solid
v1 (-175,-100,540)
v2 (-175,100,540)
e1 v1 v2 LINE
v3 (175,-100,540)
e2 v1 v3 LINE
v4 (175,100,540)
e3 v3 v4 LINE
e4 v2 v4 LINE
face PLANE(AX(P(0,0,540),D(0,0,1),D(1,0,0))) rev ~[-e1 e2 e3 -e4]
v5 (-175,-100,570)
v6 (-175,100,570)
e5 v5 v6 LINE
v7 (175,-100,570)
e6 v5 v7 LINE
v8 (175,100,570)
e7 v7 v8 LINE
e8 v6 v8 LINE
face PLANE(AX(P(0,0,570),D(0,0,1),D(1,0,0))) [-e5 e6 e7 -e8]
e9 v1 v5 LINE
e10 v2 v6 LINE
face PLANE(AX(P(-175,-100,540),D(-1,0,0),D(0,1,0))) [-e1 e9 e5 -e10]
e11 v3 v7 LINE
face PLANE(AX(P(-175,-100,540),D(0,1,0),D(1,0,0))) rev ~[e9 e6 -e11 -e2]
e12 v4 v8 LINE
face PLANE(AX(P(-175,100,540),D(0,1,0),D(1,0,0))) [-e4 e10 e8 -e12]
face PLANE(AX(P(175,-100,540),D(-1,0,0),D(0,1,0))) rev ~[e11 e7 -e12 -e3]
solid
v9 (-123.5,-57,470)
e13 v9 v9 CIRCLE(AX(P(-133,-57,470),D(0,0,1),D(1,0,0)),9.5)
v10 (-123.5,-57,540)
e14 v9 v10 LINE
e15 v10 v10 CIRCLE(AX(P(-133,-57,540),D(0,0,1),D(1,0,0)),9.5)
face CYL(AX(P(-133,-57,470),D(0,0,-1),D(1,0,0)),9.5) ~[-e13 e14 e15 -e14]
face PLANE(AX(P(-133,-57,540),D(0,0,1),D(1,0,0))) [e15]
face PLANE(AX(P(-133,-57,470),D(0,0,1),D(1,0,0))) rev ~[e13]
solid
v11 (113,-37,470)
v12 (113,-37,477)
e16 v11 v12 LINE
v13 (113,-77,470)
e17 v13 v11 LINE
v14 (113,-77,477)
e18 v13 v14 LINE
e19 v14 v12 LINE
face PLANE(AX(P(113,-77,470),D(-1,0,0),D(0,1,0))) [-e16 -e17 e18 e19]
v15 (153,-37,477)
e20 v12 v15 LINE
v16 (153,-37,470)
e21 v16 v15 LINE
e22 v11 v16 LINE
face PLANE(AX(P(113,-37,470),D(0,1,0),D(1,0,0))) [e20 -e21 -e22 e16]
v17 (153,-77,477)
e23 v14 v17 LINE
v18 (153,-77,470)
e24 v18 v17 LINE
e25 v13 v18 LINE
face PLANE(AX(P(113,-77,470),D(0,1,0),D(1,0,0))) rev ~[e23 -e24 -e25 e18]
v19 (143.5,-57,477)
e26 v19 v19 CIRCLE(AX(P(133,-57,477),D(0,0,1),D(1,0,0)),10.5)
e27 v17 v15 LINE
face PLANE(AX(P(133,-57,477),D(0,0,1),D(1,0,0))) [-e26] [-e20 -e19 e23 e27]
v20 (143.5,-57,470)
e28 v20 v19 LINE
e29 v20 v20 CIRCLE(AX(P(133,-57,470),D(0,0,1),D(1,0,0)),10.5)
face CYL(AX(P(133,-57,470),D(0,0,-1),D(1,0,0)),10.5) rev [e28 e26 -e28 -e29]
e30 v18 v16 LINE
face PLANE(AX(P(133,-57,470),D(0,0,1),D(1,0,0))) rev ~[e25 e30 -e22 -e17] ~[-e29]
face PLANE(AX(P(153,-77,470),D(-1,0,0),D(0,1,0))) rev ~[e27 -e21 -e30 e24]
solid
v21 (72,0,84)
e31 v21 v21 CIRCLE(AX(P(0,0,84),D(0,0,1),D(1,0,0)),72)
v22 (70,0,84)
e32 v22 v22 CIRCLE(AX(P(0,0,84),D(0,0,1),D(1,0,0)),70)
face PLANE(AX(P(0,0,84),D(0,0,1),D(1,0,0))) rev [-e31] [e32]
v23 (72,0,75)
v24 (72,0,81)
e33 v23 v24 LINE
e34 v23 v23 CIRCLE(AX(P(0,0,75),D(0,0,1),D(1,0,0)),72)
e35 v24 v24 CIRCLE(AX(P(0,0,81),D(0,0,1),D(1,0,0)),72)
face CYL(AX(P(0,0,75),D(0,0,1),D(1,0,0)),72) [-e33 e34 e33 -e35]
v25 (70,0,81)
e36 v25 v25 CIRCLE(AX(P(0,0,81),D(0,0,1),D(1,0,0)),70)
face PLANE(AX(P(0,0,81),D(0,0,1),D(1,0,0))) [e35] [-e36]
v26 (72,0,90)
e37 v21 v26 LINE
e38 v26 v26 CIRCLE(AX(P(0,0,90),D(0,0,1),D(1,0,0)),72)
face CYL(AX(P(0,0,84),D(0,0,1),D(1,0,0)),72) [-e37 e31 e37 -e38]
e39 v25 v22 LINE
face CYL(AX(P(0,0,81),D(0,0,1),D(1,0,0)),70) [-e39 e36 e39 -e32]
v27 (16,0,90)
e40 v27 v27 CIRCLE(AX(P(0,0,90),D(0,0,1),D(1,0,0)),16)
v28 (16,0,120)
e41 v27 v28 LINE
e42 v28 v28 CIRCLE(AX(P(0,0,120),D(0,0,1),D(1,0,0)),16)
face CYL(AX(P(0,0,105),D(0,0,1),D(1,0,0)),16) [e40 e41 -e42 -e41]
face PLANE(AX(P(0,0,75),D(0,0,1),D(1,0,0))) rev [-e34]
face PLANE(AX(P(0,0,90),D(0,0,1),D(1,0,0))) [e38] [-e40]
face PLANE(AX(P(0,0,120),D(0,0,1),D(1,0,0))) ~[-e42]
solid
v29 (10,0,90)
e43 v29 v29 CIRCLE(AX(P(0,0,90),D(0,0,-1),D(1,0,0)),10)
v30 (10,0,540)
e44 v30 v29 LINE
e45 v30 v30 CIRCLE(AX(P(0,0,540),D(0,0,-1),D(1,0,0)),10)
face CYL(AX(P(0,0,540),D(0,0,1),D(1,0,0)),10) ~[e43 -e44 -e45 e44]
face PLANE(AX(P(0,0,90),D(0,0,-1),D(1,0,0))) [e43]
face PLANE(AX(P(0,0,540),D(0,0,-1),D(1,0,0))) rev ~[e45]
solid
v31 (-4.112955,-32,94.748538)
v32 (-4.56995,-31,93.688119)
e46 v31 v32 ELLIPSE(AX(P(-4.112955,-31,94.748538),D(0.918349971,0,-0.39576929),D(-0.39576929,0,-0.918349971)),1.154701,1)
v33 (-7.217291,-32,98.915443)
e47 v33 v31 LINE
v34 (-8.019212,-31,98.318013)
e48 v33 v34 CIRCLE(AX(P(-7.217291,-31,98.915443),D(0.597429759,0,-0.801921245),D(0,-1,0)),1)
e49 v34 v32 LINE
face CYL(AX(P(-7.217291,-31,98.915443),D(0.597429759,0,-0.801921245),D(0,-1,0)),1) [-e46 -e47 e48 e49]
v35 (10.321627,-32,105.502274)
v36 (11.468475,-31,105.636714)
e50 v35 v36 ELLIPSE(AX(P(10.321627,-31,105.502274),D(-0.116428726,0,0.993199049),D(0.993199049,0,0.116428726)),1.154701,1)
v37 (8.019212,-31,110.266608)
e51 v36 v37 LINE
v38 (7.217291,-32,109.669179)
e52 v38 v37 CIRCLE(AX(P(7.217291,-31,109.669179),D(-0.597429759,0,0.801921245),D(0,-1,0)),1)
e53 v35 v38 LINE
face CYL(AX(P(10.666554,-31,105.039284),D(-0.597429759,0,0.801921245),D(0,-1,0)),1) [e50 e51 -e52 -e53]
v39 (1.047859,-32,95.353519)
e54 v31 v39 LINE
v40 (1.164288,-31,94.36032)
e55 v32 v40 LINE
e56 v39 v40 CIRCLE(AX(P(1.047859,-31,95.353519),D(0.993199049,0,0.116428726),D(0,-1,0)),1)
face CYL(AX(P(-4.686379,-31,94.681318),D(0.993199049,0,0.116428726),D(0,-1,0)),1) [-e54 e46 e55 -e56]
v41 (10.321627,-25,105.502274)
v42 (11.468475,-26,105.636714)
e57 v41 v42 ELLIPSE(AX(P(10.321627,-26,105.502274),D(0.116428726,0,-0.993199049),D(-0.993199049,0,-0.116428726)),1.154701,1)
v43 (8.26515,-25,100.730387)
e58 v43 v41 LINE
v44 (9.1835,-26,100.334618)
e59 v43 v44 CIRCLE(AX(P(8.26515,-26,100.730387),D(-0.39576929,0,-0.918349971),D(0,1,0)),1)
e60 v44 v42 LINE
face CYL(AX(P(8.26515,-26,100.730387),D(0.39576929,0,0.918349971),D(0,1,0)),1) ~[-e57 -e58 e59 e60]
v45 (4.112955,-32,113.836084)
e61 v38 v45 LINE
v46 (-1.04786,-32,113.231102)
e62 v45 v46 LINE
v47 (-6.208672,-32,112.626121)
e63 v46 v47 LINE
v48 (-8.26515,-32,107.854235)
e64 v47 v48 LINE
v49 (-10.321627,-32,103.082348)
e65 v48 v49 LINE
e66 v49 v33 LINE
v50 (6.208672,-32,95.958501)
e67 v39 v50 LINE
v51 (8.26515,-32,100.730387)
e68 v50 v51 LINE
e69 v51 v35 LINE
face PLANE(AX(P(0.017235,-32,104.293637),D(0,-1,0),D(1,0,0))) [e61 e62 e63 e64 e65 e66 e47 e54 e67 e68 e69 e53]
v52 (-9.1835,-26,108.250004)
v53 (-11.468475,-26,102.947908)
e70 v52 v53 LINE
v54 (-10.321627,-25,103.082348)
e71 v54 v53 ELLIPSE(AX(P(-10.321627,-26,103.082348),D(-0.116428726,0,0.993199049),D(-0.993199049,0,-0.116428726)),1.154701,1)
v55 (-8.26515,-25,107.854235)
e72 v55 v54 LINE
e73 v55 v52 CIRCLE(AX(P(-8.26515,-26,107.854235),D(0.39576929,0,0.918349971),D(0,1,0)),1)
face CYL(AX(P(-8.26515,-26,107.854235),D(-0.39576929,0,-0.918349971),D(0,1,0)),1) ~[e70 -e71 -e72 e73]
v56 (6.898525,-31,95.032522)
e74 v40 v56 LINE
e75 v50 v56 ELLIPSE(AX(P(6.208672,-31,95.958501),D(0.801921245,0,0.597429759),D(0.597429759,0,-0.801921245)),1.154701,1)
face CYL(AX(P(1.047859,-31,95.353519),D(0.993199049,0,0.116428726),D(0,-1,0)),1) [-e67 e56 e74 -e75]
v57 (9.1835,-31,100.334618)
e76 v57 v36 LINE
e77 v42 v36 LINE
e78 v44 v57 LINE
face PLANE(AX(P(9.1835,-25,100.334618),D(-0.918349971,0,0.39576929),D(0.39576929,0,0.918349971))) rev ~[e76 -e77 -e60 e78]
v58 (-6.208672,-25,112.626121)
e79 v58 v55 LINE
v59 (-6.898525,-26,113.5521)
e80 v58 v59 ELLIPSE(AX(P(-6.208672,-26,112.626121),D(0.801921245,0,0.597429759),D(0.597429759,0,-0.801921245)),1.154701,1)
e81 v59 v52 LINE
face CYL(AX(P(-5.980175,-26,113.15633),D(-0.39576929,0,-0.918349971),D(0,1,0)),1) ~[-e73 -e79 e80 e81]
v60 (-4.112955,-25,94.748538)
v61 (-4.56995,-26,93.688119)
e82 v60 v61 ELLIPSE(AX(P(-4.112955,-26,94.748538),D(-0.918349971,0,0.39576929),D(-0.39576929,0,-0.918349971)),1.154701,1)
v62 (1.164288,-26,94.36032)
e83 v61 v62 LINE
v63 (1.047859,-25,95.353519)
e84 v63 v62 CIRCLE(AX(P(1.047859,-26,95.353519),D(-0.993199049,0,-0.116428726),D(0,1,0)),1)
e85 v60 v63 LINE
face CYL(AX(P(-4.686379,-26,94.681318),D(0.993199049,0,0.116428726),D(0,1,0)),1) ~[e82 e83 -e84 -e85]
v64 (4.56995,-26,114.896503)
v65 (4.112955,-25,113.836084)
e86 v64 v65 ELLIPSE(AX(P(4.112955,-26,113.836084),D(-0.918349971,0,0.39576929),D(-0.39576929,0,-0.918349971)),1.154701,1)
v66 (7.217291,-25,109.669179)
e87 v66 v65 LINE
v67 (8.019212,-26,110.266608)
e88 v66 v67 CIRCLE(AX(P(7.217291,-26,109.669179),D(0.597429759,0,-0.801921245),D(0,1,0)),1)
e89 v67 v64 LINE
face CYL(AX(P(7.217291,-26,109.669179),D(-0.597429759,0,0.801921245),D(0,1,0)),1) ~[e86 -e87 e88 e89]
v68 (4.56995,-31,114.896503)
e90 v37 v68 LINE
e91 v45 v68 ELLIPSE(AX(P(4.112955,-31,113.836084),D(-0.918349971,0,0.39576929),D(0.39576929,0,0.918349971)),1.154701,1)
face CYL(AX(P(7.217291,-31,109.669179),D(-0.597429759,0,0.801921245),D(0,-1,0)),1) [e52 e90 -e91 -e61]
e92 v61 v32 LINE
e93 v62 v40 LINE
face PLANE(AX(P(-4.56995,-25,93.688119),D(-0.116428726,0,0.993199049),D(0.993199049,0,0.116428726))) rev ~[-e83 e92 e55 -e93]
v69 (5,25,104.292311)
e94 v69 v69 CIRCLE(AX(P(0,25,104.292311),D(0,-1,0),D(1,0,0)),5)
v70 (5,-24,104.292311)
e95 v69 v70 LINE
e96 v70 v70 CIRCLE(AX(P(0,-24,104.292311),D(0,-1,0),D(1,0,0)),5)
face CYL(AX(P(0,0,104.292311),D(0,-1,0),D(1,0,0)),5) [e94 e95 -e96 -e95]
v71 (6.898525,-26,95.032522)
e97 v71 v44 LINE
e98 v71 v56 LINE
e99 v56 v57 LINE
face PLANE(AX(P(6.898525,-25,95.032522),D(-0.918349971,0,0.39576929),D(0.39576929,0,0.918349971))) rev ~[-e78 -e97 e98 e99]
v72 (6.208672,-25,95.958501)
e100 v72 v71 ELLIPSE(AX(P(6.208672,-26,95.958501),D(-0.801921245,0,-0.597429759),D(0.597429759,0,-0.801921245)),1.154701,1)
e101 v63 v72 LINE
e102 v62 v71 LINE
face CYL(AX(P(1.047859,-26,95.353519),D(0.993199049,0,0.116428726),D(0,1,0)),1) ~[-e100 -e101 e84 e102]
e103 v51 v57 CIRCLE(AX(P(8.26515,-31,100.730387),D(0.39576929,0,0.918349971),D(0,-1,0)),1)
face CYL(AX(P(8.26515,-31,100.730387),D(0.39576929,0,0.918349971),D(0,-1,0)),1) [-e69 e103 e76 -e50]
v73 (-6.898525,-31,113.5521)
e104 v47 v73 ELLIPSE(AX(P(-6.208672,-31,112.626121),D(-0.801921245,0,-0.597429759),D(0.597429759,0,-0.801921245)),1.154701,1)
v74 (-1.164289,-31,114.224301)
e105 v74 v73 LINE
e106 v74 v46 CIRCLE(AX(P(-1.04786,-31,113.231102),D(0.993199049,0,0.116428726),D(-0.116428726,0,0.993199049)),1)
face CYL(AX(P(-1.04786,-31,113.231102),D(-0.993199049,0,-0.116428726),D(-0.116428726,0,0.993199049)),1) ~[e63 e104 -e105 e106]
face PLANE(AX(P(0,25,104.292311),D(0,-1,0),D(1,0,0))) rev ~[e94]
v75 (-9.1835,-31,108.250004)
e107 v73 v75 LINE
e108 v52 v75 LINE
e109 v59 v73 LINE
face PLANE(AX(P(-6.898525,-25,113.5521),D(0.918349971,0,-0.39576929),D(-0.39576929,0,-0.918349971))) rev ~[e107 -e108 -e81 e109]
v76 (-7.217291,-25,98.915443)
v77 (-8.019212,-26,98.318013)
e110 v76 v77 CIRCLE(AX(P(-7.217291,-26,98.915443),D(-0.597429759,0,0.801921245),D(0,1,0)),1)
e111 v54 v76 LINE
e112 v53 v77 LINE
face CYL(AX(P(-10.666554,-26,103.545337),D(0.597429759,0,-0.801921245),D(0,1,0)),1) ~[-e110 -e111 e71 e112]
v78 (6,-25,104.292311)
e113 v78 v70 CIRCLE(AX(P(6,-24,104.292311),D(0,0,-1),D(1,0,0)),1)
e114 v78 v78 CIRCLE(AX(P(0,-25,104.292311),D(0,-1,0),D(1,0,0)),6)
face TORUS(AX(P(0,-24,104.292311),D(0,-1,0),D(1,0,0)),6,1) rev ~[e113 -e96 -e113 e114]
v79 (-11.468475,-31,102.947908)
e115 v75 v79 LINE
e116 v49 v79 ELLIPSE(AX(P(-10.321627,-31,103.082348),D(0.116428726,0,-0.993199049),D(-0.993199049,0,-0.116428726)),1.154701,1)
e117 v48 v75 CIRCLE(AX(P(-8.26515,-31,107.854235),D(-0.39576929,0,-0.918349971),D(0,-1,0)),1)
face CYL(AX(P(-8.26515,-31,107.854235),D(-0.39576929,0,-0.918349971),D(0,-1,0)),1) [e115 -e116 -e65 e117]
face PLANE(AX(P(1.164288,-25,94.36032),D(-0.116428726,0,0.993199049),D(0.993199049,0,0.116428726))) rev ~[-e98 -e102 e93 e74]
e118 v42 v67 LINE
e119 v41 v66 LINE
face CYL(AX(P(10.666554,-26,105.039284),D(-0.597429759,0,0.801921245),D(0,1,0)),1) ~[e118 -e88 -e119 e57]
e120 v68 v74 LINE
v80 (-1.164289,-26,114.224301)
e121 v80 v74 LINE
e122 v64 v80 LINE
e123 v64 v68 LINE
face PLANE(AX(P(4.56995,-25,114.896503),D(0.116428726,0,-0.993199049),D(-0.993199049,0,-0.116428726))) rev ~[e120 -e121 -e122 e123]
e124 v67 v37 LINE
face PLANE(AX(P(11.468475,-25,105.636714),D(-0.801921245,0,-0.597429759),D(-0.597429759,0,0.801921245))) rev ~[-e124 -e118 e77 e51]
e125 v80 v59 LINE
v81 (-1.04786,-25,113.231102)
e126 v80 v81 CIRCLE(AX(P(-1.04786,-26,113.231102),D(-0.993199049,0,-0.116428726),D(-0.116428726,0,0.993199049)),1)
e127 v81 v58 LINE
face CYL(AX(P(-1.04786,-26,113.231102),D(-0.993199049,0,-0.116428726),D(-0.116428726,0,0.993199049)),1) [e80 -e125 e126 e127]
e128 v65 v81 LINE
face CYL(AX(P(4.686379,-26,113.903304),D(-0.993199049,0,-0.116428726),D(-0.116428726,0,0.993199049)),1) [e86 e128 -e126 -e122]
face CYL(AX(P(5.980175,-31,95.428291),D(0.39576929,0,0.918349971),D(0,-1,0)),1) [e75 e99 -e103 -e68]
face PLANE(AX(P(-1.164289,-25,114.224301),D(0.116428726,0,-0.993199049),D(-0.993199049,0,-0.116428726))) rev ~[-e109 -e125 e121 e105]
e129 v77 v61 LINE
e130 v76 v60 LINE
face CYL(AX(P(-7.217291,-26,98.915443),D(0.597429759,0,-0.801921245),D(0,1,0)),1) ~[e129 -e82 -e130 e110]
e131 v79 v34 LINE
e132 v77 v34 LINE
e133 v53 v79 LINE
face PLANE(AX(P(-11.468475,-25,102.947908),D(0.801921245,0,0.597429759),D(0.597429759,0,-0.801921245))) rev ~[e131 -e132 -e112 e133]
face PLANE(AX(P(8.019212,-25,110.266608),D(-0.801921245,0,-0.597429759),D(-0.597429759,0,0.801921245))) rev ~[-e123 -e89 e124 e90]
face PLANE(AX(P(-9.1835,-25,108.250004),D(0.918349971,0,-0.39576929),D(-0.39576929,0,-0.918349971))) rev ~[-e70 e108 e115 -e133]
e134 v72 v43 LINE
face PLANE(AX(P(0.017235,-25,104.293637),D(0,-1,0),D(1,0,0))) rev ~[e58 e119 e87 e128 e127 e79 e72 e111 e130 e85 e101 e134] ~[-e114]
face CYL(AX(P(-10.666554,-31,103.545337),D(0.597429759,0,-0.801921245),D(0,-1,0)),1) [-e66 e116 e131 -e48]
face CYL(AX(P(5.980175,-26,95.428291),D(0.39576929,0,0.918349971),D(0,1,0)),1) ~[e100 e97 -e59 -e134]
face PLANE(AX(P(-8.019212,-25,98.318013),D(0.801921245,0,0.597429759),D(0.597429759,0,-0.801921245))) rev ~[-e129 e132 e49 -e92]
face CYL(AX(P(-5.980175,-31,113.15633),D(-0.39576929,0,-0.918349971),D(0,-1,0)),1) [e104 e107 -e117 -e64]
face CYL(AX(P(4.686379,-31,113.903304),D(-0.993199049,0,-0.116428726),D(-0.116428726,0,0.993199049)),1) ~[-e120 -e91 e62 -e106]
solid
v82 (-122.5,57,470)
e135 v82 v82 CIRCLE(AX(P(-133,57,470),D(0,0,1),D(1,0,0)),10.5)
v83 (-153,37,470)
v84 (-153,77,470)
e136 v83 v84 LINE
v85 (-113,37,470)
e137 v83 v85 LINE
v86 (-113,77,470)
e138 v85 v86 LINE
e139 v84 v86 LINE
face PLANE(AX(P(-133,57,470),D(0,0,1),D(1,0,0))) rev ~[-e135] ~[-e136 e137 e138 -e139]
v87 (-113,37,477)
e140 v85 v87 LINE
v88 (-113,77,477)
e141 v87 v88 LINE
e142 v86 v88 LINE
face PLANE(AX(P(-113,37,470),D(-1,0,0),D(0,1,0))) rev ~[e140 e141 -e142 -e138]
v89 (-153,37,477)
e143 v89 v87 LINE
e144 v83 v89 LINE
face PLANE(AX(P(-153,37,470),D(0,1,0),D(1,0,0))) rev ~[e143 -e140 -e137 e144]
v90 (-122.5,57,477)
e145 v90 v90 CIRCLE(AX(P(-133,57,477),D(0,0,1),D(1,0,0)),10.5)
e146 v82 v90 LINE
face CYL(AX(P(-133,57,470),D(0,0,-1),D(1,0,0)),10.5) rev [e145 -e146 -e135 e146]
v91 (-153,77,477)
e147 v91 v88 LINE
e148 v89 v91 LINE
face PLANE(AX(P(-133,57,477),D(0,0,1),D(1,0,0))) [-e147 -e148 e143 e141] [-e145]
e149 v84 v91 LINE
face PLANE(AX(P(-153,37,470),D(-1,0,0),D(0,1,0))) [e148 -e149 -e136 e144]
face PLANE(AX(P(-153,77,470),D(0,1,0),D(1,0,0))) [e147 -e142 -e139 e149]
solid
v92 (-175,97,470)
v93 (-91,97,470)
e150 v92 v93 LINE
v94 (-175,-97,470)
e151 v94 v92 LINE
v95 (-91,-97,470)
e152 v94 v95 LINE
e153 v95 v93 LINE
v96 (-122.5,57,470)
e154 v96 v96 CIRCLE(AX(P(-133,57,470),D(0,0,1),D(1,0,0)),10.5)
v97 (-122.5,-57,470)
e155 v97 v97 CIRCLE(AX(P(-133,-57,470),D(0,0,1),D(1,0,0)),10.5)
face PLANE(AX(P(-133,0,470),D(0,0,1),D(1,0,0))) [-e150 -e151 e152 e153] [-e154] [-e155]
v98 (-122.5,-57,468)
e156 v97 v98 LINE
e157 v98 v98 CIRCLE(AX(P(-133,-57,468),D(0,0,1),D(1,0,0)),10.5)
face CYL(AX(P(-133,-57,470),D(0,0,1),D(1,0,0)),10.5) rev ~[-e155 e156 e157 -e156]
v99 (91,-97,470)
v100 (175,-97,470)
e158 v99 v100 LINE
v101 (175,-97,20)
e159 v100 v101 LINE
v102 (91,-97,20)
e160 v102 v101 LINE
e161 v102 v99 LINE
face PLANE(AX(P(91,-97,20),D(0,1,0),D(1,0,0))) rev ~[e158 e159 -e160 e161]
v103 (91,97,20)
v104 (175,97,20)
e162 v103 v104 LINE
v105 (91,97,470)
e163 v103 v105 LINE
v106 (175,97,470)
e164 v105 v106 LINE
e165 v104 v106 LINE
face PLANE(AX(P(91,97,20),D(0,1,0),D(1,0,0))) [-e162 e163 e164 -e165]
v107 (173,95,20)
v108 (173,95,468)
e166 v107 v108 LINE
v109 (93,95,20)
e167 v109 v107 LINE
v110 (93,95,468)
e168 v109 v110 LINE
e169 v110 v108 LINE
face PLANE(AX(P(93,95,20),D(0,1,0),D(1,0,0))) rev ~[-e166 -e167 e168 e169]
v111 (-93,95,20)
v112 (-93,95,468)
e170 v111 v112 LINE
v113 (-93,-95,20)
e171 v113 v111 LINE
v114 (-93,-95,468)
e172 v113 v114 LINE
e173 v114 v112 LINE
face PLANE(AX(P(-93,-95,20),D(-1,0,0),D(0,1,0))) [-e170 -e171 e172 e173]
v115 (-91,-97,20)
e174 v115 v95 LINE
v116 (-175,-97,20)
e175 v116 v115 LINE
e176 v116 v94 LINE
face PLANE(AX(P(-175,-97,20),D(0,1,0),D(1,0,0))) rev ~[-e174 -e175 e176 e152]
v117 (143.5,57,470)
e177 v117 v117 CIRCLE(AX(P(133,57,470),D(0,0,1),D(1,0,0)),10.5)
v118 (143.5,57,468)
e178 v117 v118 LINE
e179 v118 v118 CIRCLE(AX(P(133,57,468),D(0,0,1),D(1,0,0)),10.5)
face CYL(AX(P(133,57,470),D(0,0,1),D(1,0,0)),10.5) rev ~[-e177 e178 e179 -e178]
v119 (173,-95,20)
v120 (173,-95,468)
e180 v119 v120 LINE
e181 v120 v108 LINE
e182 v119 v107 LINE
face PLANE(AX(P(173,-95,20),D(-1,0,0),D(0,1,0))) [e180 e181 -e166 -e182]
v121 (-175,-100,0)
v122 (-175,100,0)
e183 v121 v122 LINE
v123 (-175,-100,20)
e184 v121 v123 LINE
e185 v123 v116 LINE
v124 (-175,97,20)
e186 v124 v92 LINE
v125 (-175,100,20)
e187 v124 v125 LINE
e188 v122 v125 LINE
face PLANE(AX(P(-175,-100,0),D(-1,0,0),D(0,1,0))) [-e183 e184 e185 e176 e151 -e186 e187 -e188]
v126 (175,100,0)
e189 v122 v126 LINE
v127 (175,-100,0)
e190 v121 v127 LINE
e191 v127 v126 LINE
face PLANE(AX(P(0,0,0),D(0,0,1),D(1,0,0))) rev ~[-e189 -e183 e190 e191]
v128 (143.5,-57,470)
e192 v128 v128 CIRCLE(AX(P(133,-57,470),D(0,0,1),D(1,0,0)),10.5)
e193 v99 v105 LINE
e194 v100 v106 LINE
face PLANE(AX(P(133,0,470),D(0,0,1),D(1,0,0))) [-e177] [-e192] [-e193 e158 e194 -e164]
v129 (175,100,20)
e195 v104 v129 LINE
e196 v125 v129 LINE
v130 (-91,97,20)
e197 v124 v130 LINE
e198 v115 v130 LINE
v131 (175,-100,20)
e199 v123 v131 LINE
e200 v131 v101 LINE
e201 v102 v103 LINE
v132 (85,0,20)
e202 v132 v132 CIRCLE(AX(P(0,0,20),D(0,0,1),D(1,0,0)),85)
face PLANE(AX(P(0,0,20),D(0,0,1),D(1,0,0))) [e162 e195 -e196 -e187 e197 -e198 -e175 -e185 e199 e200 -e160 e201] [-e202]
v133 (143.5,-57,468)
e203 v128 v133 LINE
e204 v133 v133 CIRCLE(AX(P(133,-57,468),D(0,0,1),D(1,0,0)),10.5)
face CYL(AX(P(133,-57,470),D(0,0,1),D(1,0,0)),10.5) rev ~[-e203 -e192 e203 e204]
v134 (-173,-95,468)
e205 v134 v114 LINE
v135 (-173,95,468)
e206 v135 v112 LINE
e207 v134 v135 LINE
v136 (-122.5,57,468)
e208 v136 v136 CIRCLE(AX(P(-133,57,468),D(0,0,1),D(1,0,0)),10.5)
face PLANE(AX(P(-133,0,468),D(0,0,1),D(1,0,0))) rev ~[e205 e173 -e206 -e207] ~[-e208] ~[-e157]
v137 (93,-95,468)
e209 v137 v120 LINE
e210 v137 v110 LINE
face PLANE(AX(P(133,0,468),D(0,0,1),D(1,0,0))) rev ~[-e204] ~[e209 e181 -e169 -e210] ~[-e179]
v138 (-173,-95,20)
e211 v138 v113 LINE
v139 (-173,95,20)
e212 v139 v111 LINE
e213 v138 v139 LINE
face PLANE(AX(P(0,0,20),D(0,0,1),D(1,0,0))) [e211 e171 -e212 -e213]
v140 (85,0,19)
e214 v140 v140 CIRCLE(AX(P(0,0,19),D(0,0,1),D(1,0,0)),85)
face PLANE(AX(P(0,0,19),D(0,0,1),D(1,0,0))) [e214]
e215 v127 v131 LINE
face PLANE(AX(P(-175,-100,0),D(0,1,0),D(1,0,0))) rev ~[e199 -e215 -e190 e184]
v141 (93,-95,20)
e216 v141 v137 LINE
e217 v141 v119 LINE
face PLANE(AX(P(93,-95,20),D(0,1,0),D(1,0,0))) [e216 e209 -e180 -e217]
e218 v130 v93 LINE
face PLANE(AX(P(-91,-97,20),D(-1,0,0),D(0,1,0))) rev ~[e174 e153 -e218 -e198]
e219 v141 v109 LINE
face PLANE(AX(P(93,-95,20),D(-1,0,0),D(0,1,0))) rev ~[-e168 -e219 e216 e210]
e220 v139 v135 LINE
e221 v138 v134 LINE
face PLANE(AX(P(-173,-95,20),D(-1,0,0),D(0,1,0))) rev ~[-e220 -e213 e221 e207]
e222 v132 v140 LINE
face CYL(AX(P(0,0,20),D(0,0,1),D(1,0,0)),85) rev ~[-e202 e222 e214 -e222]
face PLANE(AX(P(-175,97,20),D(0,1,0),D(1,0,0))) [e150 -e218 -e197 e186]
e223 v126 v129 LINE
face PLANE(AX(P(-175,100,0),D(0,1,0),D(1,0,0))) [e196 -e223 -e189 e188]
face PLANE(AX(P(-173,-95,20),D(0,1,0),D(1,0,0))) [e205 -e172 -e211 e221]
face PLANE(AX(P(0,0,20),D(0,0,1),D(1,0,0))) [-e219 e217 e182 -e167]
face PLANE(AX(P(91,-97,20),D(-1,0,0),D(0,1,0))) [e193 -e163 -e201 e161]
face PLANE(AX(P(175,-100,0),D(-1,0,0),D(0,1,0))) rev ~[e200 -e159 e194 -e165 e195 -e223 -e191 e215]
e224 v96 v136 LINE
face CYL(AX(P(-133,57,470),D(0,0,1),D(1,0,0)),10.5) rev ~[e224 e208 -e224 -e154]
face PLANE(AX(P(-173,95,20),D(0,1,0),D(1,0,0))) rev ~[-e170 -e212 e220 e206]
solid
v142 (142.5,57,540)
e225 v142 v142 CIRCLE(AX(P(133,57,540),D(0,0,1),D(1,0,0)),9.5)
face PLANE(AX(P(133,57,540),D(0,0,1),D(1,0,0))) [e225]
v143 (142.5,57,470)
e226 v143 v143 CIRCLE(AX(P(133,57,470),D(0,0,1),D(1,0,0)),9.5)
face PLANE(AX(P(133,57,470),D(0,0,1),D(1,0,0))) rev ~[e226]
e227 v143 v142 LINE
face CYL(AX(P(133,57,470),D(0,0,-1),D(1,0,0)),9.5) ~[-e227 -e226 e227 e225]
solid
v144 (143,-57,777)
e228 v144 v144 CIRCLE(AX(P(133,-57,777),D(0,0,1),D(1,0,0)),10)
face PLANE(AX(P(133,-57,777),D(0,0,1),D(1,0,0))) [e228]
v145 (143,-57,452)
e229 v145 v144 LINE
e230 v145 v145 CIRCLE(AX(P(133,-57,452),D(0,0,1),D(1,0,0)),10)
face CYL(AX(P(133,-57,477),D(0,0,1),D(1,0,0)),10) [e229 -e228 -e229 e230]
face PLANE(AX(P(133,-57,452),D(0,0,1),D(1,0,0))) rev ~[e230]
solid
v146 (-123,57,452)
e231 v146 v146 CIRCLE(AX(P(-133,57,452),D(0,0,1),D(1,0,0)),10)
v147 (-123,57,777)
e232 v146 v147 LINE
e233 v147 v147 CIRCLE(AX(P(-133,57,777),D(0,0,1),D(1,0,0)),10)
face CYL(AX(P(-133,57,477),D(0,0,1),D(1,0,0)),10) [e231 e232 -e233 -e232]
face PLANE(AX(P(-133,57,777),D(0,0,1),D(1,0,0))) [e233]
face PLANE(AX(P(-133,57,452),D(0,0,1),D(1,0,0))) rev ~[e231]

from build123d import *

# Parameters (mm, degrees)
F0_W           = 350
F0_H           = 200
F1_DEPTH       = 20
F2_W           = 84
F2_H           = 194
F2_W_2         = 80
F2_H_2         = 190
F3_DEPTH       = 450
F4_W           = 80
F4_H           = 190
F4_R           = 10.5
F4_W_2         = 84
F4_H_2         = 194
F5_DEPTH       = 2
F6_R           = 9.5
F7_DEPTH       = 70
F8_W           = 350
F8_H           = 200
F8_R           = 9.5
F9_DEPTH       = 30
F10_R          = 85
F11_DEPTH      = 1
F12_R          = 10
F13_DEPTH      = 450
F14_W          = 16
F14_H          = 30
F16_R          = 5
F17_DEPTH      = 25
F17_DEPTH_BACK = 25
F18_R          = 5
F19_DEPTH      = 7
F20_R          = 1
F21_W          = 40
F21_H          = 40
F21_R          = 10.5
F22_DEPTH      = 7
F23_R          = 10
F24_DEPTH      = 300
F24_DEPTH_BACK = 25


with BuildPart() as f1:
    # F0 (on Top) → F1 (new body)
    with BuildSketch(Plane.XY):
        Rectangle(F0_W, F0_H)
    extrude(amount=F1_DEPTH)

    # F2 (on face) → F3 (join)
    with BuildSketch(Plane.XY.offset(20)):
        with Locations((-133, 0)):
            Rectangle(F2_W, F2_H)
        with Locations((-133, 0)):
            Rectangle(F2_W_2, F2_H_2, mode=Mode.SUBTRACT)
        with Locations((133, 0)):
            Rectangle(F2_W, F2_H)
        with Locations((133, 0)):
            Rectangle(F2_W_2, F2_H_2, mode=Mode.SUBTRACT)
    extrude(amount=F3_DEPTH)

    # F4 (on face) → F5 (join)
    with BuildSketch(Plane.XY.offset(470)):
        with Locations((-133, 0)):
            Rectangle(F4_W, F4_H)
        with Locations((-133, -57)):
            Circle(F4_R, mode=Mode.SUBTRACT)
        with Locations((-133, 57)):
            Circle(F4_R, mode=Mode.SUBTRACT)
        with Locations((133, 0)):
            Rectangle(F4_W_2, F4_H_2)
        with Locations((133, -57)):
            Circle(F4_R, mode=Mode.SUBTRACT)
        with Locations((133, 57)):
            Circle(F4_R, mode=Mode.SUBTRACT)
    extrude(amount=-F5_DEPTH)

    # F10 (on face) → F11 (cut)
    with BuildSketch(Plane.XY.offset(20)):
        Circle(F10_R)
    extrude(amount=-F11_DEPTH, mode=Mode.SUBTRACT)


with BuildPart() as f7:
    # F6 (on face) → F7 (new body)
    with BuildSketch(Plane.XY.offset(470)):
        with Locations((-133, -57)):
            Circle(F6_R)
    extrude(amount=F7_DEPTH)


with BuildPart() as f7b:
    # F6 (on face) → F7, piece 2 (new body)
    with BuildSketch(Plane.XY.offset(470)):
        with Locations((133, 57)):
            Circle(F6_R)
    extrude(amount=F7_DEPTH)


with BuildPart() as f9:
    # F8 (on face) → F9 (new body)
    with BuildSketch(Plane.XY.offset(540)):
        Rectangle(F8_W, F8_H)
        with Locations((133, 57)):
            Circle(F8_R, mode=Mode.SUBTRACT)
        with Locations((133, 57)):
            Circle(F8_R)
    extrude(amount=F9_DEPTH)


with BuildPart() as f13:
    # F12 (on face) → F13 (new body)
    with BuildSketch(Plane(origin=(0, 0, 540), x_dir=(1, 0, 0), z_dir=(0, 0, -1))):
        Circle(F12_R)
    extrude(amount=F13_DEPTH)


with BuildPart() as f15:
    # F14 (on Front) → F15 (revolve)
    with BuildSketch(Plane.XZ):
        Polygon((16, 90), (0, 90), (0, 75), (72, 75), (72, 81), (70, 81), (70, 84), (72, 84), (72, 90), align=None)
        with Locations((8, 105)):
            Rectangle(F14_W, F14_H)
    revolve(axis=Axis((0, 0, 82.5), (0, 0, 1)))


with BuildPart() as f17:
    # F16 (on Front) → F17 (new body, two sides)
    with BuildSketch(Plane.XZ) as f17_sk:
        with Locations((0, 104.2923107743)):
            Circle(F16_R)
    extrude(amount=F17_DEPTH)
    extrude(f17_sk.sketch, amount=-F17_DEPTH_BACK)

    # F18 (on face) → F19 (join)
    with BuildSketch(Plane.XZ.offset(25)):
        with BuildLine():
            ThreePointArc((9.1834995564, 100.3346175196), (9.7937478925, 102.2717904903), (10, 104.2923107743))
            ThreePointArc((10, 104.2923107743), (9.491894557, 107.4393630013), (8.0192124561, 110.2666083551))
            ThreePointArc((8.0192124561, 110.2666083551), (3.9576923265, 113.4758107307), (-1.1642885194, 114.2243011209))
            ThreePointArc((-1.1642885194, 114.2243011209), (-5.974297981, 112.3115229323), (-9.1834995906, 108.2500039496))
            ThreePointArc((-9.1834995906, 108.2500039496), (-9.9319904991, 103.1280235561), (-8.0192123209, 98.3180130121))
            ThreePointArc((-8.0192123209, 98.3180130121), (-3.9576924307, 95.1088108628), (1.1642880694, 94.360320375))
            ThreePointArc((1.1642880694, 94.360320375), (5.9742977646, 96.2730984552), (9.1834995564, 100.3346175196))
        make_face()
        with Locations((0, 104.2923107743)):
            Circle(F18_R, mode=Mode.SUBTRACT)
        with Locations((0, 104.2923107743)):
            Circle(F18_R)
        with BuildLine():
            ThreePointArc((-9.1834995906, 108.2500039496), (-5.974297981, 112.3115229323), (-1.1642885194, 114.2243011209))
            Line((-1.1642885194, 114.2243011209), (-6.8985246466, 113.5520997046))
            Line((-6.8985246466, 113.5520997046), (-9.1834995906, 108.2500039496))
        make_face()
        with BuildLine():
            ThreePointArc((-8.0192123209, 98.3180130121), (-9.9319904991, 103.1280235561), (-9.1834995906, 108.2500039496))
            Line((-9.1834995906, 108.2500039496), (-11.4684747706, 102.9479076469))
            Line((-11.4684747706, 102.9479076469), (-8.0192123209, 98.3180130121))
        make_face()
        with BuildLine():
            Line((-4.569950124, 93.6881187166), (1.1642880694, 94.360320375))
            ThreePointArc((1.1642880694, 94.360320375), (-3.9576924307, 95.1088108628), (-8.0192123209, 98.3180130121))
            Line((-8.0192123209, 98.3180130121), (-4.569950124, 93.6881187166))
        make_face()
        with BuildLine():
            Line((6.8985246466, 95.032521844), (9.1834995564, 100.3346175196))
            ThreePointArc((9.1834995564, 100.3346175196), (5.9742977646, 96.2730984552), (1.1642880694, 94.360320375))
            Line((1.1642880694, 94.360320375), (6.8985246466, 95.032521844))
        make_face()
        with BuildLine():
            ThreePointArc((8.0192124561, 110.2666083551), (9.491894557, 107.4393630013), (10, 104.2923107743))
            ThreePointArc((10, 104.2923107743), (9.7937478925, 102.2717904903), (9.1834995564, 100.3346175196))
            Line((9.1834995564, 100.3346175196), (11.4684747706, 105.6367139017))
            Line((11.4684747706, 105.6367139017), (8.0192124561, 110.2666083551))
        make_face()
        with BuildLine():
            ThreePointArc((-1.1642885194, 114.2243011209), (3.9576923265, 113.4758107307), (8.0192124561, 110.2666083551))
            Line((8.0192124561, 110.2666083551), (4.569950124, 114.896502832))
            Line((4.569950124, 114.896502832), (-1.1642885194, 114.2243011209))
        make_face()
    extrude(amount=F19_DEPTH)

    # F20
    f20_edges = [f17.edges().sort_by_distance(p)[0] for p in [
        (-9.1835, -32, 108.250004),
        (-8.019212, -32, 98.318013),
        (1.164287, -32, 94.36032),
        (9.1835, -32, 100.334618),
        (8.019212, -32, 110.266608),
        (-1.164287, -32, 114.224301),
        (-9.1835, -25, 108.250004),
        (-1.164287, -25, 114.224301),
        (-8.019212, -25, 98.318013),
        (8.019212, -25, 110.266608),
        (1.164287, -25, 94.36032),
        (9.1835, -25, 100.334618),
        (-5, -25, 104.292311),
    ]]
    fillet(f20_edges, radius=F20_R)


with BuildPart() as f22:
    # F21 (on face) → F22 (new body)
    with BuildSketch(Plane.XY.offset(470)):
        with Locations((-133, 57)):
            Rectangle(F21_W, F21_H)
        with Locations((-133, 57)):
            Circle(F21_R, mode=Mode.SUBTRACT)
    extrude(amount=F22_DEPTH)


with BuildPart() as f22b:
    # F21 (on face) → F22, piece 2 (new body)
    with BuildSketch(Plane.XY.offset(470)):
        with Locations((133, -57)):
            Rectangle(F21_W, F21_H)
        with Locations((133, -57)):
            Circle(F21_R, mode=Mode.SUBTRACT)
    extrude(amount=F22_DEPTH)


with BuildPart() as f24:
    # F23 (on face) → F24 (new body, two sides)
    with BuildSketch(Plane.XY.offset(477)) as f24_sk:
        with Locations((-133, 57)):
            Circle(F23_R)
    extrude(amount=F24_DEPTH)
    extrude(f24_sk.sketch, amount=-F24_DEPTH_BACK)


with BuildPart() as f24b:
    # F23 (on face) → F24, piece 2 (new body, two sides)
    with BuildSketch(Plane.XY.offset(477)) as f24_2_sk:
        with Locations((133, -57)):
            Circle(F23_R)
    extrude(amount=F24_DEPTH)
    extrude(f24_2_sk.sketch, amount=-F24_DEPTH_BACK)


solid = Compound([f1.part, f7.part, f7b.part, f9.part, f13.part, f15.part, f17.part, f22.part, f22b.part, f24.part, f24b.part])
